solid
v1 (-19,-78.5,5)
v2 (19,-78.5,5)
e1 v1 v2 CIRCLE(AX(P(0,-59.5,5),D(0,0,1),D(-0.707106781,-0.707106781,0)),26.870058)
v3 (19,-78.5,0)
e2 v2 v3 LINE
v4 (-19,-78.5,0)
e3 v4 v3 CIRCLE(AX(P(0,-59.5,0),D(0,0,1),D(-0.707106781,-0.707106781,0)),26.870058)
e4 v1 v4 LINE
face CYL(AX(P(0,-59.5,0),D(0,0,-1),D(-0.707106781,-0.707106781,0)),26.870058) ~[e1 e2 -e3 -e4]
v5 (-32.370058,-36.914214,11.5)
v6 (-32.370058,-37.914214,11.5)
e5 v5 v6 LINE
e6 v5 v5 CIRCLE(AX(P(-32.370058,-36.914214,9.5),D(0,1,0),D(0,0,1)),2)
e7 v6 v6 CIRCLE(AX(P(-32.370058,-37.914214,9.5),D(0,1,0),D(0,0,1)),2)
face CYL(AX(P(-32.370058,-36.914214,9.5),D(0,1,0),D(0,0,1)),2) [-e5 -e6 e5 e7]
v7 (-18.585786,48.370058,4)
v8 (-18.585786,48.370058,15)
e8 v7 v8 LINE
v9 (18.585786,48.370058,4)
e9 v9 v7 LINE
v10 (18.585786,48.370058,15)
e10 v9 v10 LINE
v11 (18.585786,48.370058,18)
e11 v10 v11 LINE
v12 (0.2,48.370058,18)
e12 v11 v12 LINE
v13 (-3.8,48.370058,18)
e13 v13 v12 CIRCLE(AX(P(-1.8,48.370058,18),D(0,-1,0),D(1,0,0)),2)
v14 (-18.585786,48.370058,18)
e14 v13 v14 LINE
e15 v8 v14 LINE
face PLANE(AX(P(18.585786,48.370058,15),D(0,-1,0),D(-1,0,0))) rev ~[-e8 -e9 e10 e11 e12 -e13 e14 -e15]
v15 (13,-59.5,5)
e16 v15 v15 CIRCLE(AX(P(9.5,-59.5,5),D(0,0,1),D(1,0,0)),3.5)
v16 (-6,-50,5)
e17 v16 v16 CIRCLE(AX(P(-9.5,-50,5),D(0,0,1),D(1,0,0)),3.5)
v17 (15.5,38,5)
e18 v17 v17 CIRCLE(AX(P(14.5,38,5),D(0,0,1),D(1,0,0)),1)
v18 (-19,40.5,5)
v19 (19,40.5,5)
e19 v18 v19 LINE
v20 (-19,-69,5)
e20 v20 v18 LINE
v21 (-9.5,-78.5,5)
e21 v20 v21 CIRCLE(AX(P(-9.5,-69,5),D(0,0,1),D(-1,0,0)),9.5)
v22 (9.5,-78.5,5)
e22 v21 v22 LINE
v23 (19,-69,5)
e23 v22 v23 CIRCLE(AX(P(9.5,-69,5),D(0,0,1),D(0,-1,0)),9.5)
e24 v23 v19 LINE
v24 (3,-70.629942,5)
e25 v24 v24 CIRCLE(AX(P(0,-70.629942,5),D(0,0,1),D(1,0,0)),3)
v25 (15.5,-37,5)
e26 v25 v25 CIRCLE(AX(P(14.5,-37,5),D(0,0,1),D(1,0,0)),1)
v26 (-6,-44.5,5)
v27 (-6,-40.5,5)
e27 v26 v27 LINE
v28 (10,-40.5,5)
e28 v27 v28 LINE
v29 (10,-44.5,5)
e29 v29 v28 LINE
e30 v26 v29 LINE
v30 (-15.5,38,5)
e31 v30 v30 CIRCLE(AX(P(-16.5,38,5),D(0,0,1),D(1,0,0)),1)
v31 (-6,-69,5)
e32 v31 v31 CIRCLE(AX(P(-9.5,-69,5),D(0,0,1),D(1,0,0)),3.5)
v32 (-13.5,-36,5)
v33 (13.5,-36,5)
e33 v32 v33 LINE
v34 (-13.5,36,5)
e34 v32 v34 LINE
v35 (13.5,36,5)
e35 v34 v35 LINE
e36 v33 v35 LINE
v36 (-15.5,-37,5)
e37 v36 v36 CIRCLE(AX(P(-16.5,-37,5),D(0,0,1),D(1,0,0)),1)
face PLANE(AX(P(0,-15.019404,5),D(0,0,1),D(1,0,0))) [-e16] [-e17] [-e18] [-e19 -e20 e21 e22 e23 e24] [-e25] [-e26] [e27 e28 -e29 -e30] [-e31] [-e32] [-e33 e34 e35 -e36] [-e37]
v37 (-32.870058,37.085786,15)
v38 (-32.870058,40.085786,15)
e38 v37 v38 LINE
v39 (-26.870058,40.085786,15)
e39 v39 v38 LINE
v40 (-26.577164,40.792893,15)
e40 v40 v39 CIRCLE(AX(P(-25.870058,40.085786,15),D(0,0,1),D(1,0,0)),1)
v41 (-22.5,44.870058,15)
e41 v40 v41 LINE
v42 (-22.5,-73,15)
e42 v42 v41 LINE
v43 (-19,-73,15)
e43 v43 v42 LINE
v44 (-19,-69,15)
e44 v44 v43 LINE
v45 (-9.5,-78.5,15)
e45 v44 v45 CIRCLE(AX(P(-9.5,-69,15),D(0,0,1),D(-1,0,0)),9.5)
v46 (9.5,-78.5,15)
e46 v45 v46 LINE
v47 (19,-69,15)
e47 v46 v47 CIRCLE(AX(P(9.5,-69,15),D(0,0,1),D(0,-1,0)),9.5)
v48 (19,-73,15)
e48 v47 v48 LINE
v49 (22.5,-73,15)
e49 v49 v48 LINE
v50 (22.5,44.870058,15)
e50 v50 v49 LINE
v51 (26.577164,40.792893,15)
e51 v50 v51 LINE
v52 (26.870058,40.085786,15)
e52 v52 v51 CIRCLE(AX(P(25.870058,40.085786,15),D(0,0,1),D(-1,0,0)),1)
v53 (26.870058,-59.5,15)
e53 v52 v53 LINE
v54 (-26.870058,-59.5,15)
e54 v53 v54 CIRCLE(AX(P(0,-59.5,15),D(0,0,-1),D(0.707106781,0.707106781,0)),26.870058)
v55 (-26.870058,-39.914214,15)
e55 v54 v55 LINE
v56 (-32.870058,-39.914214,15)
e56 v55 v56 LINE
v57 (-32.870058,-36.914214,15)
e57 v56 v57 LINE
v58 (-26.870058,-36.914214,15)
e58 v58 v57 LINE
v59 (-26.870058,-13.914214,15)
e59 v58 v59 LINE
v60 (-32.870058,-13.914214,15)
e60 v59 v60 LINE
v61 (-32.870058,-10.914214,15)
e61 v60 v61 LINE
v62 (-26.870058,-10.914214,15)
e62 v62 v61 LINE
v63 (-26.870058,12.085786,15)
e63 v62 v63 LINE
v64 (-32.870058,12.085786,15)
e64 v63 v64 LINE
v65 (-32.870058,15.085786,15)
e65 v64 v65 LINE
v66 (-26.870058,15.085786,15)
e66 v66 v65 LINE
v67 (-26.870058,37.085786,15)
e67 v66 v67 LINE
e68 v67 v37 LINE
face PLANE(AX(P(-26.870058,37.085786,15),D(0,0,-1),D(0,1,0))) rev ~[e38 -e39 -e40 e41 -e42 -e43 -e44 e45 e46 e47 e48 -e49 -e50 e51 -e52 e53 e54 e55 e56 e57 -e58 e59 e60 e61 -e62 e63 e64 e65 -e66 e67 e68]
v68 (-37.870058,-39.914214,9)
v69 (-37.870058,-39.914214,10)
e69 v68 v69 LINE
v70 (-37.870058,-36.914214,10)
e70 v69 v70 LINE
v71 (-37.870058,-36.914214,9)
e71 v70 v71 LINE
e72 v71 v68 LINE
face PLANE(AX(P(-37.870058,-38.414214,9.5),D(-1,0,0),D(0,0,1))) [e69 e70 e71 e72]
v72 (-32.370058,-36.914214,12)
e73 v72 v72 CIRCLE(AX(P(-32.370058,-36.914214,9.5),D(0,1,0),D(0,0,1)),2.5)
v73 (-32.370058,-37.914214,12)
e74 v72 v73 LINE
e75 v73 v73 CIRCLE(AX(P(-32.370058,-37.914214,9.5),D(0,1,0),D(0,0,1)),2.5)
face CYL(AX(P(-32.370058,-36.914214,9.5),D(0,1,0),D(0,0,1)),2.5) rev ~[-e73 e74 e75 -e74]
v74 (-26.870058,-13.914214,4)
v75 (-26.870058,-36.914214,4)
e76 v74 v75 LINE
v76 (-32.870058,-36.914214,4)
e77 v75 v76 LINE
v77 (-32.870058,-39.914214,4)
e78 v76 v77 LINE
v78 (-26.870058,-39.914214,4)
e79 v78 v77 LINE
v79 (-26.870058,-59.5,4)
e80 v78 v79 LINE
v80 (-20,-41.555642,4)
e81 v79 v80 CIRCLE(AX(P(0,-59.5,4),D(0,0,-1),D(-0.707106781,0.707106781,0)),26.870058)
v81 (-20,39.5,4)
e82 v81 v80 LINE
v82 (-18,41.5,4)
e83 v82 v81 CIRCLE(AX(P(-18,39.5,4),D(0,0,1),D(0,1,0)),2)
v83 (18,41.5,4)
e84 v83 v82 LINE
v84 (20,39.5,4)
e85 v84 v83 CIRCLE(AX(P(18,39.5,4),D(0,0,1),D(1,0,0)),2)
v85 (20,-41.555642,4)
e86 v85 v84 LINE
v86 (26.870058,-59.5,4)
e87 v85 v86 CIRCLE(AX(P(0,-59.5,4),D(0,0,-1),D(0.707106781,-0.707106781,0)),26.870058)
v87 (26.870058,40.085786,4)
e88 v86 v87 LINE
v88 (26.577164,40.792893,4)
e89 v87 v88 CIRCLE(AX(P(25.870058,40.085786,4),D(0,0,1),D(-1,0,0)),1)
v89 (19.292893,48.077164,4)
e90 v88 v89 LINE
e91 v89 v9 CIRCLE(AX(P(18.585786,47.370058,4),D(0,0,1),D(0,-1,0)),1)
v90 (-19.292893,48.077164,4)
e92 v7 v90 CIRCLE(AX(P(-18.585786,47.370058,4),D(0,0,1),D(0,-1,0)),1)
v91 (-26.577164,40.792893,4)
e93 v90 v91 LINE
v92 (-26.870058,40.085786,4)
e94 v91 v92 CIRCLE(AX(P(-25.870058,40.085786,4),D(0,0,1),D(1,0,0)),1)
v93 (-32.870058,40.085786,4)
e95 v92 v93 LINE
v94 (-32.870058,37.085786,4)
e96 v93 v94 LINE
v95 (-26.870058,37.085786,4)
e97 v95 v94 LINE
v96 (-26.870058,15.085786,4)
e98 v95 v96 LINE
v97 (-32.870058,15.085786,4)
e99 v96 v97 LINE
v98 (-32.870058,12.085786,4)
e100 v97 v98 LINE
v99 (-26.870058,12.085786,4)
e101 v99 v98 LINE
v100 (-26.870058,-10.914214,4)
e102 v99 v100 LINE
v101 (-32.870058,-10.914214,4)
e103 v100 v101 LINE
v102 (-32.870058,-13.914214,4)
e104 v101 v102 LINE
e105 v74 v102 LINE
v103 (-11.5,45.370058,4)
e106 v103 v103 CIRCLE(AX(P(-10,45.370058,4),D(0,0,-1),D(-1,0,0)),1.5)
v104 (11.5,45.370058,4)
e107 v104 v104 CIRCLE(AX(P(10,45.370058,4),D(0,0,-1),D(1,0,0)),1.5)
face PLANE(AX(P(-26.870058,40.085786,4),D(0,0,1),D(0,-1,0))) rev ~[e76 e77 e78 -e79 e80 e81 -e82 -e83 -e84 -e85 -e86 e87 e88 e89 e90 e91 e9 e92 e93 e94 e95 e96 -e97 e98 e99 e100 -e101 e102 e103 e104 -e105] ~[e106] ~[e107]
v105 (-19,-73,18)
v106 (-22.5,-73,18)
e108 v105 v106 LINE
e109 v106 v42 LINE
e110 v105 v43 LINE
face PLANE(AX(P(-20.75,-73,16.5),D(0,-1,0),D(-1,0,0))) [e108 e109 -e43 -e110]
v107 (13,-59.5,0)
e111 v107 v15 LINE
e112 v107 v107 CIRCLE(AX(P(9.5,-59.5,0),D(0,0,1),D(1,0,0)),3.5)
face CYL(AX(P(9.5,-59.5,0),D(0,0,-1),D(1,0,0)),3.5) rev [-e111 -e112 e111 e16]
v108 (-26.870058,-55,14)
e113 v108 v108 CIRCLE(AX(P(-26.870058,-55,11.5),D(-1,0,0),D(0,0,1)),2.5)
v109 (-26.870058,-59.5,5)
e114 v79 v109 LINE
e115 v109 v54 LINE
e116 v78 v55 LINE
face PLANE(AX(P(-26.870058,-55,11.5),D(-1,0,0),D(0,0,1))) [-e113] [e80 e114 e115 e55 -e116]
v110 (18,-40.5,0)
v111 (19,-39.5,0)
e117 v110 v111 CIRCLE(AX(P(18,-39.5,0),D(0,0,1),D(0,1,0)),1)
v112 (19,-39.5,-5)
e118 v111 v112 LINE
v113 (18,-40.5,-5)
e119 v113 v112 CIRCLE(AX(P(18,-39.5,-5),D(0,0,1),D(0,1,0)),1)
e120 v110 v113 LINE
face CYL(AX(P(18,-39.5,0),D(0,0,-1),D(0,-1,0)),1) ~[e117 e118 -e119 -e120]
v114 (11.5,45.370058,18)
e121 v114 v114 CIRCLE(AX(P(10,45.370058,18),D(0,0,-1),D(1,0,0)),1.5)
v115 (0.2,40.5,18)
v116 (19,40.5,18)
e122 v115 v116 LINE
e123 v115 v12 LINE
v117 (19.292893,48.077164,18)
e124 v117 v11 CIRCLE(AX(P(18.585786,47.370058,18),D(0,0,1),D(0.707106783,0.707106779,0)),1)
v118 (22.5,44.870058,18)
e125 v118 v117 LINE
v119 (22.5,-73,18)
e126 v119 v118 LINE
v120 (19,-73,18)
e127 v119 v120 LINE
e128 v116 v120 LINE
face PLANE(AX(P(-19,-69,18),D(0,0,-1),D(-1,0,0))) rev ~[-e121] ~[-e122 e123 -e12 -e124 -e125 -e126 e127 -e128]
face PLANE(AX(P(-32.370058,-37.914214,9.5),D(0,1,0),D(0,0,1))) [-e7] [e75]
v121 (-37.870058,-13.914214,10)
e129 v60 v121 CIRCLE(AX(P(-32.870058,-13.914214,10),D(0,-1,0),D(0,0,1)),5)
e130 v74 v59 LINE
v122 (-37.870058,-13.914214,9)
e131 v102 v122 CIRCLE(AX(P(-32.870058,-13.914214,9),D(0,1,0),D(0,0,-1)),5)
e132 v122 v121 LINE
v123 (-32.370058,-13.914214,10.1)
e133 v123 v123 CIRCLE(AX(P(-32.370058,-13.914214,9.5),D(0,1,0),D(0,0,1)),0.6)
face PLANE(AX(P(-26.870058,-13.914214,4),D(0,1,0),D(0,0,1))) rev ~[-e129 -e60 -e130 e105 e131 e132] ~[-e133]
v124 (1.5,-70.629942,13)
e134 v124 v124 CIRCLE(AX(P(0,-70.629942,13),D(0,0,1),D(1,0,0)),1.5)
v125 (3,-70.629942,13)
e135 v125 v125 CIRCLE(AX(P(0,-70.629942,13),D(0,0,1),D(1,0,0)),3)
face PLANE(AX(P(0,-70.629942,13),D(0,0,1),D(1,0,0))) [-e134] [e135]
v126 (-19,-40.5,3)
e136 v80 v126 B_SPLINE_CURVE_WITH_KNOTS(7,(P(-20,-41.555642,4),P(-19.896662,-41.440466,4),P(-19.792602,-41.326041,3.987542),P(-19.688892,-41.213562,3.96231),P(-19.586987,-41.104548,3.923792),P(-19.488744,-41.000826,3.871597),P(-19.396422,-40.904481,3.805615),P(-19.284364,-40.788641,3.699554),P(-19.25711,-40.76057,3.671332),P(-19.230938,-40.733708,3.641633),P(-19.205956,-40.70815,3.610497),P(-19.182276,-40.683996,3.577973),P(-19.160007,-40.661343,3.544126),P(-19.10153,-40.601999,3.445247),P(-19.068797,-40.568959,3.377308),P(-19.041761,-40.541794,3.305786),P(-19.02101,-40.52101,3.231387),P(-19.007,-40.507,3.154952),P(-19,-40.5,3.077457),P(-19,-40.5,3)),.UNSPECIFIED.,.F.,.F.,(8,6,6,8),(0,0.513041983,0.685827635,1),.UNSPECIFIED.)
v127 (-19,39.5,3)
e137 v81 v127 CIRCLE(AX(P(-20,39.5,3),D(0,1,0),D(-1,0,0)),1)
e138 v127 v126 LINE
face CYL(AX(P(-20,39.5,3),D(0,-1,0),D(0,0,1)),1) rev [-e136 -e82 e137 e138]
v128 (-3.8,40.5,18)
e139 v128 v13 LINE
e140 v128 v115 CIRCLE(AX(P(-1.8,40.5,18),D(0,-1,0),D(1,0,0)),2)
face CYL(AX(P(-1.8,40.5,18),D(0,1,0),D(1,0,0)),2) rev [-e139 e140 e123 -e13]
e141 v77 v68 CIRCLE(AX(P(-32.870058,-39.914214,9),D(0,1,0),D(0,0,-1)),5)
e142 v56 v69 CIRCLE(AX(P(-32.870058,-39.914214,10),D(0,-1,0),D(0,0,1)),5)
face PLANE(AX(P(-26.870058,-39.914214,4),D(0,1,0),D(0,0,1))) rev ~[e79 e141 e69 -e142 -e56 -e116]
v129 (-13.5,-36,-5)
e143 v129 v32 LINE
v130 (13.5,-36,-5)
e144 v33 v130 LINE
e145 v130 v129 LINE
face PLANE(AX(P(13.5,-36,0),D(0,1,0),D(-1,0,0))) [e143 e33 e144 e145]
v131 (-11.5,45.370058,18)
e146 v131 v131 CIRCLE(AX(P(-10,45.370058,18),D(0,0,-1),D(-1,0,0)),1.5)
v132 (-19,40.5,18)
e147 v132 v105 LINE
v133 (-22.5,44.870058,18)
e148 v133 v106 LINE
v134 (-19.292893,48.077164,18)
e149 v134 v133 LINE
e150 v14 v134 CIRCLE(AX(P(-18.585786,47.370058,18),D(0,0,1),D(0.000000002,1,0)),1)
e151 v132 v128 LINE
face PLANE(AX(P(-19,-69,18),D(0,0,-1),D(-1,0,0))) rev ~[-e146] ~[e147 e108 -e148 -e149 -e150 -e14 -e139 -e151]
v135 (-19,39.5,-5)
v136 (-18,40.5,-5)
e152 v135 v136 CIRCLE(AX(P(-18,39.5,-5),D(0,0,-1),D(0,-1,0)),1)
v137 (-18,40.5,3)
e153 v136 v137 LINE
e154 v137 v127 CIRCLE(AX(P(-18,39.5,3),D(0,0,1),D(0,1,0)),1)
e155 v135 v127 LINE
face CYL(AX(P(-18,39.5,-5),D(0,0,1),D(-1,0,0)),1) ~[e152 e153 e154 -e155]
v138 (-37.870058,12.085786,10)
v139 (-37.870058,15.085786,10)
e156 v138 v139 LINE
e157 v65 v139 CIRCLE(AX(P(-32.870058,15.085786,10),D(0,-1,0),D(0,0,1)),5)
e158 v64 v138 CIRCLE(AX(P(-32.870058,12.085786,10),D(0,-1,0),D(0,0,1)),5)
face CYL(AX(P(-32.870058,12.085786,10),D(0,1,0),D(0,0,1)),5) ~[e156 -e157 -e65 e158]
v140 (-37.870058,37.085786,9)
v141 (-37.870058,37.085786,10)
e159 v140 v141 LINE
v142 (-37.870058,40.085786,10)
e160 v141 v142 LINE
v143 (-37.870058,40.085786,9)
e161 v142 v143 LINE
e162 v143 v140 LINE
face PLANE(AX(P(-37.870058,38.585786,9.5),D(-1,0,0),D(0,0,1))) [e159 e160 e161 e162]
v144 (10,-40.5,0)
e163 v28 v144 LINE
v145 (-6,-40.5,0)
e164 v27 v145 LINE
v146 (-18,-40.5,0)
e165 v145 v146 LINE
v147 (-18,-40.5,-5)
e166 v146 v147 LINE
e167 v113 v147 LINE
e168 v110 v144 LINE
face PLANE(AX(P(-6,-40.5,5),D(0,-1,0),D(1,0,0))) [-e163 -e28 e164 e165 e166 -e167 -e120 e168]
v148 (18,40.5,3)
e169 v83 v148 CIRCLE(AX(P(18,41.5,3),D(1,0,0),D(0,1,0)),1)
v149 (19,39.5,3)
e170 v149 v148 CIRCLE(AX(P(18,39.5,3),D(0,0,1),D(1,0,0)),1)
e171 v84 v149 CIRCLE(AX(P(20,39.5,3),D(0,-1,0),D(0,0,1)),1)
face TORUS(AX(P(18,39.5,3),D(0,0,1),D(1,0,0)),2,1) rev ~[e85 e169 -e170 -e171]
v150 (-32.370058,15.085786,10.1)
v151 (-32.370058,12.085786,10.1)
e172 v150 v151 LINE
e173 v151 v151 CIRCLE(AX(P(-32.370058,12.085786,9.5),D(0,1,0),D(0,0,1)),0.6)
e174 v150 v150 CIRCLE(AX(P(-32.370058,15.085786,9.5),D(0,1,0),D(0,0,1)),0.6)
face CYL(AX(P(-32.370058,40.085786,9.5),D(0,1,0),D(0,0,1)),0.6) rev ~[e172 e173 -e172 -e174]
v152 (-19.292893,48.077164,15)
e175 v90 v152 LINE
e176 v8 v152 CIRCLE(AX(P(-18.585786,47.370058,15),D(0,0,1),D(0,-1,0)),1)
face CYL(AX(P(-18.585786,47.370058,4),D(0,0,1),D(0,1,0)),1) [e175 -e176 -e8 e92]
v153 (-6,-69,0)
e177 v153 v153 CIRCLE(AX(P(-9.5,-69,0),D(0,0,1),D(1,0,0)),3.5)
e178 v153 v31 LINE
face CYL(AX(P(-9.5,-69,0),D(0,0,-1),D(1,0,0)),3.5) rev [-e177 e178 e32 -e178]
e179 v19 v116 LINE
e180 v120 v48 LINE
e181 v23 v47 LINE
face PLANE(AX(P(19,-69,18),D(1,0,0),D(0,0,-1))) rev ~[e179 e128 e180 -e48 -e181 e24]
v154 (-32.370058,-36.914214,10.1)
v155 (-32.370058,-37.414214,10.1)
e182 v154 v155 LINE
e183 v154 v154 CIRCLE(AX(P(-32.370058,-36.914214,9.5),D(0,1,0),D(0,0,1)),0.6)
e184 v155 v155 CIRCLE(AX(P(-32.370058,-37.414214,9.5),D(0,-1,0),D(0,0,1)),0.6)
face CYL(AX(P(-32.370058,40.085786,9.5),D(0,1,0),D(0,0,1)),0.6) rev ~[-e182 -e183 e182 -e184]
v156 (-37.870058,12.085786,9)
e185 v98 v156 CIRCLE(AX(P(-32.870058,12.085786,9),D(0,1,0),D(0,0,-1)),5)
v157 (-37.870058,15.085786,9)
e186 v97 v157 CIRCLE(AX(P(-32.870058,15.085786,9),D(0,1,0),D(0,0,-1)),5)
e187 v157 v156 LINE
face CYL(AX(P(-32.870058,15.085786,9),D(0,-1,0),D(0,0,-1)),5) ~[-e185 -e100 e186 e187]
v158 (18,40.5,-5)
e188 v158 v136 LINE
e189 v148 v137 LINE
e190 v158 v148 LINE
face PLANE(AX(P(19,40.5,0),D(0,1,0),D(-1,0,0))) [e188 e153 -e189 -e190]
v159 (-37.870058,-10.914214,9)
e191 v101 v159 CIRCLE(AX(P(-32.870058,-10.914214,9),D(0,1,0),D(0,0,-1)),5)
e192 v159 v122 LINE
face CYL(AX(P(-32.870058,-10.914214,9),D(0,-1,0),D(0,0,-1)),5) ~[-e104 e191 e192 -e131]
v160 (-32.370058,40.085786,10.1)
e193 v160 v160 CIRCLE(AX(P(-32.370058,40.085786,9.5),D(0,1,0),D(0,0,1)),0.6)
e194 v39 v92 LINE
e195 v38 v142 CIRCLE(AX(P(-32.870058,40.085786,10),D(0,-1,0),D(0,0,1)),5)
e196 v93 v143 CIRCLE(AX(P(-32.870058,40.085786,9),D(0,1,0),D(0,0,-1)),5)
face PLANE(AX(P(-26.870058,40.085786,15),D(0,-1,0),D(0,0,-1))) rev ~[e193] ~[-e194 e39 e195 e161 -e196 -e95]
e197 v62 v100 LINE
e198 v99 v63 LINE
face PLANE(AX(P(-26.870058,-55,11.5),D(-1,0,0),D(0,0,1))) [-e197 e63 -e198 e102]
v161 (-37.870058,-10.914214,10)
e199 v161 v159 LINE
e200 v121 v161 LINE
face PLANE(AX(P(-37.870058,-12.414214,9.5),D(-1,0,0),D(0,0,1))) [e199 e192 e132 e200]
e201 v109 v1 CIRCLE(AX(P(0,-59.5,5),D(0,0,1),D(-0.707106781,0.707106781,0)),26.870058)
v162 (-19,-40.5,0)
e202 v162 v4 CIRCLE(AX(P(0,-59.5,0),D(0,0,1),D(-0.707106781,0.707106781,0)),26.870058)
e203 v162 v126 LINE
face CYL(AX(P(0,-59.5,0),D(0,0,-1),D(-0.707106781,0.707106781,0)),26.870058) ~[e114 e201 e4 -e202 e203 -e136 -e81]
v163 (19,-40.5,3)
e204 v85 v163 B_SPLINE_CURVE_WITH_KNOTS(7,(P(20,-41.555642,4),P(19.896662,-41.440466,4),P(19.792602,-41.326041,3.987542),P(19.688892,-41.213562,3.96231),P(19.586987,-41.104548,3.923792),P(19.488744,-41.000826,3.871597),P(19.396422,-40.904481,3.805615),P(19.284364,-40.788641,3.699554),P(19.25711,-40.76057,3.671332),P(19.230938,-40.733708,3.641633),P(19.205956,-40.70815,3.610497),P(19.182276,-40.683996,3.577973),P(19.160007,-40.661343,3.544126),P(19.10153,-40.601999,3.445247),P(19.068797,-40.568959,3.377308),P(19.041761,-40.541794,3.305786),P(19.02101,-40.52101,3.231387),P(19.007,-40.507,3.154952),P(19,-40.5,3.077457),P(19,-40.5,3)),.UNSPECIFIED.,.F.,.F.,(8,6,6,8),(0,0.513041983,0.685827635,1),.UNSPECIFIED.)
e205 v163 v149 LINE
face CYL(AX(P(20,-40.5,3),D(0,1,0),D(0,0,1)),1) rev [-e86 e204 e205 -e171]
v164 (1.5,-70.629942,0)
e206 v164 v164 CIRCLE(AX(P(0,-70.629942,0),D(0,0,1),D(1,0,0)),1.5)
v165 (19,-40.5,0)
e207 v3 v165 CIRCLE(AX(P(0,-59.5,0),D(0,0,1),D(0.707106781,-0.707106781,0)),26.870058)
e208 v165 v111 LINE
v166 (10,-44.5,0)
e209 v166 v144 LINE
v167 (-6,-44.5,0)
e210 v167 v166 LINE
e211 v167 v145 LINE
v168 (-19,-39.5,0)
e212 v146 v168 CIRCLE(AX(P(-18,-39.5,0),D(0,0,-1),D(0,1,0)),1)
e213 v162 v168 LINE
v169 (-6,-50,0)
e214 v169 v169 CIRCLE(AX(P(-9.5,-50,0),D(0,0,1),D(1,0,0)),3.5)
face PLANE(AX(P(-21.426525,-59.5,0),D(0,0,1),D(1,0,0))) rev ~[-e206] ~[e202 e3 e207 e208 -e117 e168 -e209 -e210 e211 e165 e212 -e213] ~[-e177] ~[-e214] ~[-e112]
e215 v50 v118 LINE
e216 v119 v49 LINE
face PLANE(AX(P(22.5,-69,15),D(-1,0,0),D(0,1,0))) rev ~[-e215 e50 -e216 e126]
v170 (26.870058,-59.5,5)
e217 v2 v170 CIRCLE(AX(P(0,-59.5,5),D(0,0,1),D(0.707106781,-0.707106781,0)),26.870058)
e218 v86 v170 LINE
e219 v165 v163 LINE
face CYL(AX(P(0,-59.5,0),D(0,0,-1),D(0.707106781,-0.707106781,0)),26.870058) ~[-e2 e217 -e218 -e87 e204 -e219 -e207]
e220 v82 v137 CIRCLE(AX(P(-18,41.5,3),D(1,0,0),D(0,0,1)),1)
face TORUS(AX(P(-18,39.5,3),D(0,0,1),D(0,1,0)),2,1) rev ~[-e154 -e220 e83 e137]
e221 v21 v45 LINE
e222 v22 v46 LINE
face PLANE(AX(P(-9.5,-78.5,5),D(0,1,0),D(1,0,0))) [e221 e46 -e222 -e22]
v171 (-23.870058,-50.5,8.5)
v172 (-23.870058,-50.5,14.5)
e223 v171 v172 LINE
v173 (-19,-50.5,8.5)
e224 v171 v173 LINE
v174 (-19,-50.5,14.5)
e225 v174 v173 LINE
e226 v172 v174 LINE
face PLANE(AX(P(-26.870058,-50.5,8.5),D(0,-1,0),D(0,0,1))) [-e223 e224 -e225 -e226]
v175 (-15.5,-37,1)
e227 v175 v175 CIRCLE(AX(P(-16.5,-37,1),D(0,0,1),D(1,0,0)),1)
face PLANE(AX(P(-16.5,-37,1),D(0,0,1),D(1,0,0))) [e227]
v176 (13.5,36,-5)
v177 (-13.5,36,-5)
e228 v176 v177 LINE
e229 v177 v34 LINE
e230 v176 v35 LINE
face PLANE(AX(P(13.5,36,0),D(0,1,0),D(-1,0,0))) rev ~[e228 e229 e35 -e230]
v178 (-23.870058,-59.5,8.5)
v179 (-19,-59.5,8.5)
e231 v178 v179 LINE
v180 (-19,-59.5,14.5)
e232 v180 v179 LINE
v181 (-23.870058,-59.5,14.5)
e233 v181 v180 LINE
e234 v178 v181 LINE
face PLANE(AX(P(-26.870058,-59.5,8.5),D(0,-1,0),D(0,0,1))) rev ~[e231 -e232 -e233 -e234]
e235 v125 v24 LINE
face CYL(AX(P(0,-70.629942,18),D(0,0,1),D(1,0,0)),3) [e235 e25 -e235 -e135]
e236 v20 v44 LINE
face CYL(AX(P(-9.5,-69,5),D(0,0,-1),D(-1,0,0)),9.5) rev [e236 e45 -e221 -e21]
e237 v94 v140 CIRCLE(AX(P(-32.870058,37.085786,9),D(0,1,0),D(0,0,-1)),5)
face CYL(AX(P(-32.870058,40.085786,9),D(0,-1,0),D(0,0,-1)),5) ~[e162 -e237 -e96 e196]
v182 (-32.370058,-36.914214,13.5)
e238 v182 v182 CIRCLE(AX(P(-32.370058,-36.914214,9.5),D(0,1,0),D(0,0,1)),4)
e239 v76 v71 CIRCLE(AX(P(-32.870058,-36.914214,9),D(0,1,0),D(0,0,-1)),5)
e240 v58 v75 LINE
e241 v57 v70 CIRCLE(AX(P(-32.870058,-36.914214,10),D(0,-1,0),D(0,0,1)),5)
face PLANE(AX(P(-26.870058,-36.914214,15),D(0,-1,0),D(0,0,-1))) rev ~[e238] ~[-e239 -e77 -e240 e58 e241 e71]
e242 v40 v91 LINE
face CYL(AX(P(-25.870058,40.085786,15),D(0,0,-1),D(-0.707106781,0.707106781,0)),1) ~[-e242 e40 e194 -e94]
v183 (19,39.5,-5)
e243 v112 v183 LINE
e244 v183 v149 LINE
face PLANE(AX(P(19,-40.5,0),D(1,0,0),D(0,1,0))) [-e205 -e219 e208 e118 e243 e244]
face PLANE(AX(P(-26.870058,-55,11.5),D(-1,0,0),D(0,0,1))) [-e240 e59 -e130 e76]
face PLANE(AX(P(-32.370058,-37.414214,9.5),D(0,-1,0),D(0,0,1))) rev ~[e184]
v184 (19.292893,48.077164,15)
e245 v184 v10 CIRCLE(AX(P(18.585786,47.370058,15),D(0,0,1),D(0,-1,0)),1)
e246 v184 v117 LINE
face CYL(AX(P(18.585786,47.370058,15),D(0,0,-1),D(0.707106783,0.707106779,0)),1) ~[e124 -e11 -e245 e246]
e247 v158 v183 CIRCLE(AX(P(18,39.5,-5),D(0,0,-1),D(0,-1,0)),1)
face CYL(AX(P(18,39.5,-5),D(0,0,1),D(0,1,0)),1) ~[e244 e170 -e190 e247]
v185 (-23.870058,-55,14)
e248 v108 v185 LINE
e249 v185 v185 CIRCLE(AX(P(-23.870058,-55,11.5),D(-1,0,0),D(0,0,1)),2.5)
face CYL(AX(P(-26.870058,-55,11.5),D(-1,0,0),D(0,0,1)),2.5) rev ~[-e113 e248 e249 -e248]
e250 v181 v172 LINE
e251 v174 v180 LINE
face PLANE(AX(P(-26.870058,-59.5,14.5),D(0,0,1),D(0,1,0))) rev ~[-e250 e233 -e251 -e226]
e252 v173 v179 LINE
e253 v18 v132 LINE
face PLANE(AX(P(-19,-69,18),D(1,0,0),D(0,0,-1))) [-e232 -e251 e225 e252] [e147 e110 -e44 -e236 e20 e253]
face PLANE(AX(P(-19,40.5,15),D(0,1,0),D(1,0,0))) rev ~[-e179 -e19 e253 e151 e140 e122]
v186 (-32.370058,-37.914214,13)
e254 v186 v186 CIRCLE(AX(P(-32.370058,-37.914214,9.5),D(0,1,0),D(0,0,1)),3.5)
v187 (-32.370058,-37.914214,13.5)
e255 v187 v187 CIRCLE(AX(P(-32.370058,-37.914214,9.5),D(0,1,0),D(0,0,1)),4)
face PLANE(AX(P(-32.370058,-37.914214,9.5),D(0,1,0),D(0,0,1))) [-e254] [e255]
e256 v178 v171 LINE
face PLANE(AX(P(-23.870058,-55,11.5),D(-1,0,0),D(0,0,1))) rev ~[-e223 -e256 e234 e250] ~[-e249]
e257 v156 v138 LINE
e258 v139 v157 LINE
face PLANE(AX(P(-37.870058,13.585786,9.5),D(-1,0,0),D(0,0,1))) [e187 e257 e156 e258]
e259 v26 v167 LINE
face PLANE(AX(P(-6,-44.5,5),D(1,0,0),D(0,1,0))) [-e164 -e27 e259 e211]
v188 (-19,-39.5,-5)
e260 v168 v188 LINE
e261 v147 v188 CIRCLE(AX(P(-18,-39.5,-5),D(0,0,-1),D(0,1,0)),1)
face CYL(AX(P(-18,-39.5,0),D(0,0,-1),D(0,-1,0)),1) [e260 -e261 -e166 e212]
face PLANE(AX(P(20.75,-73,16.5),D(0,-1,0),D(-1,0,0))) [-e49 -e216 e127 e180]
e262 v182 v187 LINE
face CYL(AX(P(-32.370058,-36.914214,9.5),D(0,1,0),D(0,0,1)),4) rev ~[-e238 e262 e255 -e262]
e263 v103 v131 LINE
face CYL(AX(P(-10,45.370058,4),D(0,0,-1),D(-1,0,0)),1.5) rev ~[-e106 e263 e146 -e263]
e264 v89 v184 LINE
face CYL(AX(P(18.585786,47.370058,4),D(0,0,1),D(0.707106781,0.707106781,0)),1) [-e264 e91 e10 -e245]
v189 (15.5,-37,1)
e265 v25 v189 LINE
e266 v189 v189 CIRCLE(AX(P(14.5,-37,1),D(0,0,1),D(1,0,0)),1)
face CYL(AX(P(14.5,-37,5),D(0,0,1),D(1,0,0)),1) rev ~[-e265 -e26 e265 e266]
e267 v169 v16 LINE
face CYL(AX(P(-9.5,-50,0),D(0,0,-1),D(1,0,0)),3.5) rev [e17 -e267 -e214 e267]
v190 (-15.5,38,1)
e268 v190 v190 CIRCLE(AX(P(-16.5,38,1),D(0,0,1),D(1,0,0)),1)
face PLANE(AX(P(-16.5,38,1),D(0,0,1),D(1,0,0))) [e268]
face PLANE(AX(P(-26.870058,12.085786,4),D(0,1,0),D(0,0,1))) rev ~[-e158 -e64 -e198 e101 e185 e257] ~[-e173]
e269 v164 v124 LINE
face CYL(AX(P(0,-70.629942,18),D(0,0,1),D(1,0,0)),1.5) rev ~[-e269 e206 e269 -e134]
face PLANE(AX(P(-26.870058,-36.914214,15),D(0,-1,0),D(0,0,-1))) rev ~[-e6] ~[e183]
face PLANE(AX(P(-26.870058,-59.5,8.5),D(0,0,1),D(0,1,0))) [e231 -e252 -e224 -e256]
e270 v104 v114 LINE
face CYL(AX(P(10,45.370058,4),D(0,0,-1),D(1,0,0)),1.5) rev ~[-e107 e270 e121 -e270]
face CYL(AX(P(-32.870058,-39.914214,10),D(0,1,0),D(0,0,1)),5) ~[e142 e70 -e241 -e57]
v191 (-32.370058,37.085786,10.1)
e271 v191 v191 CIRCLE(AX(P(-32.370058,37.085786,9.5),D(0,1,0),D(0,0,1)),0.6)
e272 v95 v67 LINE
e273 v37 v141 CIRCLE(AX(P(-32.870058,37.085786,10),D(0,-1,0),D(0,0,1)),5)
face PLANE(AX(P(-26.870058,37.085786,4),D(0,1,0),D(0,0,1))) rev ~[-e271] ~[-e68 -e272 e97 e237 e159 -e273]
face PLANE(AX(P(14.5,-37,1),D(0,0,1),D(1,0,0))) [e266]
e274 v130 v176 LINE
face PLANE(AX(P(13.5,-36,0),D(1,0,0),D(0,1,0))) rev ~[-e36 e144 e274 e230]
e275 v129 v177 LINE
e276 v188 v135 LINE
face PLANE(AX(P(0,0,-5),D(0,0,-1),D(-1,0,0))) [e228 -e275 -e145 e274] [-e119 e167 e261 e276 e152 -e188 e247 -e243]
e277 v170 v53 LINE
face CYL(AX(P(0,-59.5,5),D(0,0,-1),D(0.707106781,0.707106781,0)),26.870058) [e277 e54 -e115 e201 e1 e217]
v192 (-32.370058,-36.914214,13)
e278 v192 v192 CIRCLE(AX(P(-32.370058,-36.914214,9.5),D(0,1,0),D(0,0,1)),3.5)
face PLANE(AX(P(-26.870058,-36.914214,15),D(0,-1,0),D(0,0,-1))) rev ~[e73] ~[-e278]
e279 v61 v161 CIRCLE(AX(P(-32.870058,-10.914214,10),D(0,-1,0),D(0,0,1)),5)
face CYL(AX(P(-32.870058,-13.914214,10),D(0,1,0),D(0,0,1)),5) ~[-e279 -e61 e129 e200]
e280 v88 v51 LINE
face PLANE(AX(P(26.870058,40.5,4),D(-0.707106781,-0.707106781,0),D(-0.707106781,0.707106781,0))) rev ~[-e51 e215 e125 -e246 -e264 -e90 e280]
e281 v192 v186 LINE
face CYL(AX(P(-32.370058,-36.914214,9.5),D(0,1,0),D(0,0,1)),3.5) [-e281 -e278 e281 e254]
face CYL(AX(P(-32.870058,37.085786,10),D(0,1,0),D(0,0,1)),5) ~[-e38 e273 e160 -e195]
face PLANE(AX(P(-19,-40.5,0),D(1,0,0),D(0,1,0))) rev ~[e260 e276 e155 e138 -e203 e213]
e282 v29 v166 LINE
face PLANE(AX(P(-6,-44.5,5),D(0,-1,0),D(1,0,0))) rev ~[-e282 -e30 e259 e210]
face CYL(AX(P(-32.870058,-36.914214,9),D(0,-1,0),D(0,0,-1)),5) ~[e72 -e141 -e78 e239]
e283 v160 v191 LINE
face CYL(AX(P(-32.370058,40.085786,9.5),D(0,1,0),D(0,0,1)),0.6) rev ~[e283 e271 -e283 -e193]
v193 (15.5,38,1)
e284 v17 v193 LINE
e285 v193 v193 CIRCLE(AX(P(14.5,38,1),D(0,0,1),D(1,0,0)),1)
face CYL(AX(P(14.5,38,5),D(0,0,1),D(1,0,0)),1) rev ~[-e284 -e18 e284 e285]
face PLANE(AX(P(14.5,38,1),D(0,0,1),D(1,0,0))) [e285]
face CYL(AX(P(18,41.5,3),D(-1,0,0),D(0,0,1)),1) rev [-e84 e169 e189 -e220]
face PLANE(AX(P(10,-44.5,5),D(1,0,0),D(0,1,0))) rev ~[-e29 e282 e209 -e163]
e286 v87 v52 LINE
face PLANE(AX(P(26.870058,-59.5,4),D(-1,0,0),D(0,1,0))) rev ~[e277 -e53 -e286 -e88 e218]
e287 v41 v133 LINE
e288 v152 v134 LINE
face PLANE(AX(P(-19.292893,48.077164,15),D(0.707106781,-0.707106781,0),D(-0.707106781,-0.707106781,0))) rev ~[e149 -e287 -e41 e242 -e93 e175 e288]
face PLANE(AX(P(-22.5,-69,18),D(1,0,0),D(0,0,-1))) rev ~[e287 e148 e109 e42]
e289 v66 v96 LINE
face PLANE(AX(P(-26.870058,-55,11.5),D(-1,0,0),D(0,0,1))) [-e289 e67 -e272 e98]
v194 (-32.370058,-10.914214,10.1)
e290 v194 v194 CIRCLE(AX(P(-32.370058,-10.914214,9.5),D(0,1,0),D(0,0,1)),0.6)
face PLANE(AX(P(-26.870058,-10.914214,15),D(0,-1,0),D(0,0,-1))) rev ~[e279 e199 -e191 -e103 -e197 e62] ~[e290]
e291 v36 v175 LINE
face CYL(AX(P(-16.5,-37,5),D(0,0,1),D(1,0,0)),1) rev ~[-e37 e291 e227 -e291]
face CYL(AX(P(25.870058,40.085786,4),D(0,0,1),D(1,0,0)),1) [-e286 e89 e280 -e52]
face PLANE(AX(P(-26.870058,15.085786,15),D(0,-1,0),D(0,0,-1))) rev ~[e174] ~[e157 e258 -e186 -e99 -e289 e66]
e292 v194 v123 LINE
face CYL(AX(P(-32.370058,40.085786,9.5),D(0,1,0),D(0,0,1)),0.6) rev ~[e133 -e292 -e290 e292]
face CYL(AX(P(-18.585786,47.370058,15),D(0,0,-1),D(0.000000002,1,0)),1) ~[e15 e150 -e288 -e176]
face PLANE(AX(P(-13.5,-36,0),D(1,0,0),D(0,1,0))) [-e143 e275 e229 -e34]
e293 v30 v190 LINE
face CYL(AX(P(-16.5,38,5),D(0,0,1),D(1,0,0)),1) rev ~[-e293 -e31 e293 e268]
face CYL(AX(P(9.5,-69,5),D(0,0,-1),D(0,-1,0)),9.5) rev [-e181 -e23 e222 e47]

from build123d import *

# Parameters (mm, degrees)
CROQUIS1_W               = 38
CROQUIS1_H               = 81
CROQUIS1_W_2             = 27
CROQUIS1_H_2             = 72
CROQUIS1_H_3             = 38
CROQUIS1_R               = 3.5
SALIENTE_EXTRUIR1_DEPTH  = 5
CROQUIS2_W               = 38
CROQUIS2_H               = 81
CROQUIS2_W_2             = 27
CROQUIS2_H_2             = 72
SALIENTE_EXTRUIR2_DEPTH  = 5
SALIENTE_EXTRUIR9_START  = -1
SALIENTE_EXTRUIR9_DEPTH  = 1
SALIENTE_EXTRUIR10_DEPTH = 11
SALIENTE_EXTRUIR11_DEPTH = 10
REDONDEO1_R              = 1
REDONDEO2_R              = 1
REDONDEO3_R              = 1
CROQUIS6_W               = 6
CROQUIS6_H               = 9
CORTAR_EXTRUIR1_DEPTH    = 8
CROQUIS7_W               = 6
CROQUIS7_H               = 9
CROQUIS7_R               = 2.5
SALIENTE_EXTRUIR12_DEPTH = 3
SALIENTE_EXTRUIR13_DEPTH = 11
REDONDEO4_R              = 5
CROQUIS9_R               = 0.6
CORTAR_EXTRUIR2_DEPTH    = 80
SALIENTE_EXTRUIR14_START = -2.5
CROQUIS10_R              = 0.6
SALIENTE_EXTRUIR14_DEPTH = 2.5
CROQUIS11_R              = 4
CROQUIS11_R_2            = 3.5
CROQUIS11_R_3            = 2.5
CROQUIS11_R_4            = 2
CORTAR_EXTRUIR3_DEPTH    = 1
SALIENTE_EXTRUIR15_DEPTH = 3
CROQUIS14_R              = 1.5
CORTAR_EXTRUIR4_DEPTH    = 14
CROQUIS16_W              = 3.5
CROQUIS16_H              = 3
SALIENTE_EXTRUIR16_DEPTH = 4
CROQUIS25_R              = 3
CROQUIS25_R_2            = 1.5
SALIENTE_EXTRUIR21_DEPTH = 18
CROQUIS26_R              = 1.5
CORTAR_EXTRUIR7_DEPTH    = 18
CROQUIS28_R              = 1
CORTAR_EXTRUIR8_DEPTH    = 4
CROQUIS29_R              = 3
CROQUIS29_R_2            = 1.5
CORTAR_EXTRUIR9_DEPTH    = 5
CROQUIS31_W              = 16
CROQUIS31_H              = 4
CORTAR_EXTRUIR10_DEPTH   = 5


with BuildPart() as part:
    # Croquis1 → Saliente-Extruir1 (new body)
    # profile 1 of 5: a face of its own
    with BuildSketch(Plane.XY):
        Rectangle(CROQUIS1_W, CROQUIS1_H)
        Rectangle(CROQUIS1_W_2, CROQUIS1_H_2, mode=Mode.SUBTRACT)
    # profile 2 of 5: a face of its own
    with BuildSketch(Plane.XY):
        with Locations((0, -59.5)):
            Rectangle(CROQUIS1_W, CROQUIS1_H_3)
        with Locations((-9.5, -69)):
            Circle(CROQUIS1_R, mode=Mode.SUBTRACT)
        with Locations((9.5, -59.5)):
            Circle(CROQUIS1_R, mode=Mode.SUBTRACT)
        with Locations((-9.5, -50)):
            Circle(CROQUIS1_R, mode=Mode.SUBTRACT)
    # profile 3 of 5: a face of its own
    with BuildSketch(Plane.XY):
        with BuildLine():
            ThreePointArc((19, -78.5), (26.870057685, -59.5), (19, -40.5))
            Line((19, -40.5), (19, -78.5))
        make_face()
    # profile 4 of 5: a face of its own
    with BuildSketch(Plane.XY):
        with BuildLine():
            Line((19, -78.5), (-19, -78.5))
            ThreePointArc((-19, -78.5), (0, -86.370057685), (19, -78.5))
        make_face()
    # profile 5 of 5: a face of its own
    with BuildSketch(Plane.XY):
        with BuildLine():
            Line((-19, -78.5), (-19, -40.5))
            ThreePointArc((-19, -40.5), (-26.870057685, -59.5), (-19, -78.5))
        make_face()
    extrude(amount=SALIENTE_EXTRUIR1_DEPTH)

    # Croquis2 → Saliente-Extruir2 (add)
    with BuildSketch(Plane(origin=(0, 0, 0), x_dir=(-1, 0, 0), z_dir=(0, 0, -1))):
        Rectangle(CROQUIS2_W, CROQUIS2_H)
        Rectangle(CROQUIS2_W_2, CROQUIS2_H_2, mode=Mode.SUBTRACT)
    extrude(amount=SALIENTE_EXTRUIR2_DEPTH)

    # Croquis3 → Saliente-Extruir9 (add)
    with BuildSketch(Plane.XY.offset(5).offset(SALIENTE_EXTRUIR9_START)):
        with BuildLine():
            Line((26.870057685, -59.5), (26.870057685, 40.5))
            Line((26.870057685, 40.5), (19, 48.370057685))
            Line((19, 48.370057685), (-19, 48.370057685))
            Line((-19, 48.370057685), (-26.870057685, 40.5))
            Line((-26.870057685, 40.5), (-26.870057685, -59.5))
            ThreePointArc((-26.870057685, -59.5), (0, -86.370057685), (26.870057685, -59.5))
        make_face()
        with BuildLine():
            Line((19, -59.5), (19, 40.5))
            Line((19, 40.5), (-19, 40.5))
            Line((-19, 40.5), (-19, -59.5))
            ThreePointArc((-19, -59.5), (0, -78.5), (19, -59.5))
        make_face(mode=Mode.SUBTRACT)
    extrude(amount=SALIENTE_EXTRUIR9_DEPTH)

    # Croquis4 → Saliente-Extruir10 (add)
    with BuildSketch(Plane(origin=(0, 0, 4), x_dir=(-1, 0, 0), z_dir=(0, 0, -1))):
        with BuildLine():
            Line((19, 40.5), (19, -40.5))
            ThreePointArc((19, -40.5), (24.824696333, -49.217274097), (26.870057685, -59.5))
            Line((26.870057685, -59.5), (26.870057685, 40.5))
            Line((26.870057685, 40.5), (19, 48.370057685))
            Line((19, 48.370057685), (-19, 48.370057685))
            Line((-19, 48.370057685), (-26.870057685, 40.5))
            Line((-26.870057685, 40.5), (-26.870057685, -59.5))
            ThreePointArc((-26.870057685, -59.5), (-24.824696333, -49.217274097), (-19, -40.5))
            Line((-19, -40.5), (-19, 40.5))
            Line((-19, 40.5), (19, 40.5))
        make_face()
    extrude(amount=-SALIENTE_EXTRUIR10_DEPTH)

    # Croquis5 → Saliente-Extruir11 (add)
    with BuildSketch(Plane.XY.offset(5)):
        with BuildLine():
            Line((-19, -59.5), (-19, -69))
            ThreePointArc((-19, -69), (-16.217514421, -75.717514421), (-9.5, -78.5))
            Line((-9.5, -78.5), (9.5, -78.5))
            ThreePointArc((9.5, -78.5), (16.217514421, -75.717514421), (19, -69))
            Line((19, -69), (19, -59.5))
            Line((19, -59.5), (19, -40.5))
            ThreePointArc((19, -40.5), (0, -86.370057685), (-19, -40.5))
            Line((-19, -40.5), (-19, -59.5))
        make_face()
    extrude(amount=SALIENTE_EXTRUIR11_DEPTH)

    # Redondeo1
    redondeo1_edges = [part.edges().sort_by_distance(p)[0] for p in [
        (19, -40.5, -2.5),
        (-19, -40.5, -2.5),
        (19, 40.5, -0.5),
        (-19, 40.5, -0.5),
    ]]
    fillet(redondeo1_edges, radius=REDONDEO1_R)

    # Redondeo2
    redondeo2_edges = [part.edges().sort_by_distance(p)[0] for p in [
        (-19, -0.5, 4),
        (0, 40.5, 4),
        (-18.707106781, 40.207106781, 4),
        (18.707106781, 40.207106781, 4),
        (19, -0.5, 4),
    ]]
    fillet(redondeo2_edges, radius=REDONDEO2_R)

    # Redondeo3
    redondeo3_edges = [part.edges().sort_by_distance(p)[0] for p in [
        (19, 48.370057685, 9.5),
        (26.870057685, 40.5, 9.5),
        (-26.870057685, 40.5, 9.5),
        (-19, 48.370057685, 9.5),
    ]]
    fillet(redondeo3_edges, radius=REDONDEO3_R)

    # Croquis6 → Cortar-Extruir1 (cut)
    with BuildSketch(Plane.ZY.offset(26.870057685)):
        with Locations((11.5, -55)):
            Rectangle(CROQUIS6_W, CROQUIS6_H)
    extrude(amount=-CORTAR_EXTRUIR1_DEPTH, mode=Mode.SUBTRACT)

    # Croquis7 → Saliente-Extruir12 (add)
    with BuildSketch(Plane.ZY.offset(26.870057685)):
        with Locations((11.5, -55)):
            Rectangle(CROQUIS7_W, CROQUIS7_H)
        with Locations((11.5, -55)):
            Circle(CROQUIS7_R, mode=Mode.SUBTRACT)
    extrude(amount=-SALIENTE_EXTRUIR12_DEPTH)

    # Croquis8 → Saliente-Extruir13 (add)
    with BuildSketch(Plane.ZY.offset(26.870057685)):
        Polygon((15, 40.085786438), (4, 40.085786438), (4, 37.085786438), (9.5, 37.085786438), (15, 37.085786438), align=None)
        Polygon((9.5, 15.085786438), (4, 15.085786438), (4, 12.085786438), (9.5, 12.085786438), (15, 12.085786438), (15, 15.085786438), align=None)
        Polygon((9.5, -10.914213562), (4, -10.914213562), (4, -13.914213562), (9.5, -13.914213562), (15, -13.914213562), (15, -10.914213562), align=None)
        Polygon((9.5, -36.914213562), (4, -36.914213562), (4, -39.914213562), (15, -39.914213562), (15, -36.914213562), align=None)
    extrude(amount=SALIENTE_EXTRUIR13_DEPTH)

    # Redondeo4
    redondeo4_edges = [part.edges().sort_by_distance(p)[0] for p in [
        (-37.870057685, 38.585786438, 4),
        (-37.870057685, 38.585786438, 15),
        (-37.870057685, 13.585786438, 4),
        (-37.870057685, 13.585786438, 15),
        (-37.870057685, -12.414213562, 4),
        (-37.870057685, -12.414213562, 15),
        (-37.870057685, -38.414213562, 4),
        (-37.870057685, -38.414213562, 15),
    ]]
    fillet(redondeo4_edges, radius=REDONDEO4_R)

    # Croquis9 → Cortar-Extruir2 (cut)
    with BuildSketch(Plane(origin=(0, 40.085786438, 0), x_dir=(1, 0, 0), z_dir=(0, 1, 0))):
        with Locations(Location((-32.370057685, -9.5, 0), (0, 0, 270))):
            Circle(CROQUIS9_R)
    extrude(amount=-CORTAR_EXTRUIR2_DEPTH, mode=Mode.SUBTRACT)

    # Croquis10 → Saliente-Extruir14 (add)
    with BuildSketch(Plane.XZ.offset(39.914213562).offset(SALIENTE_EXTRUIR14_START)):
        with Locations(Location((-32.370057685, 9.5, 0), (0, 0, 90))):
            Circle(CROQUIS10_R)
    extrude(amount=SALIENTE_EXTRUIR14_DEPTH)

    # Croquis11 → Cortar-Extruir3 (cut)
    # profile 1 of 2: a face of its own
    with BuildSketch(Plane(origin=(0, -36.914213562, 0), x_dir=(1, 0, 0), z_dir=(0, 1, 0))):
        with Locations(Location((-32.370057685, -9.5, 0), (0, 0, 270))):
            Circle(CROQUIS11_R)
        with Locations(Location((-32.370057685, -9.5, 0), (0, 0, 270))):
            Circle(CROQUIS11_R_2, mode=Mode.SUBTRACT)
    # profile 2 of 2: a face of its own
    with BuildSketch(Plane(origin=(0, -36.914213562, 0), x_dir=(1, 0, 0), z_dir=(0, 1, 0))):
        with Locations(Location((-32.370057685, -9.5, 0), (0, 0, 270))):
            Circle(CROQUIS11_R_3)
        with Locations(Location((-32.370057685, -9.5, 0), (0, 0, 270))):
            Circle(CROQUIS11_R_4, mode=Mode.SUBTRACT)
    extrude(amount=-CORTAR_EXTRUIR3_DEPTH, mode=Mode.SUBTRACT)

    # Croquis13 → Saliente-Extruir15 (add)
    with BuildSketch(Plane.XY.offset(15)):
        Polygon((-19, -65.5), (-19, 40.5), (-22.5, 40.5), (-22.5, -69), (-19, -69), align=None)
        Polygon((22.5, 40.5), (19, 40.5), (19, -65.5), (19, -69), (22.5, -69), align=None)
        with BuildLine():
            Line((-19, 40.5), (19, 40.5))
            Line((19, 40.5), (22.5, 40.5))
            Line((22.5, 40.5), (22.5, 44.870057685))
            Line((22.5, 44.870057685), (19.292893219, 48.077164466))
            ThreePointArc((19.292893219, 48.077164466), (18.96846987, 48.293937218), (18.585786438, 48.370057685))
            Line((18.585786438, 48.370057685), (-18.585786438, 48.370057685))
            ThreePointArc((-18.585786438, 48.370057685), (-18.96846987, 48.293937218), (-19.292893219, 48.077164466))
            Line((-19.292893219, 48.077164466), (-22.5, 44.870057685))
            Line((-22.5, 44.870057685), (-22.5, 40.5))
            Line((-22.5, 40.5), (-19, 40.5))
        make_face()
    extrude(amount=SALIENTE_EXTRUIR15_DEPTH)

    # Croquis14 → Cortar-Extruir4 (cut)
    with BuildSketch(Plane(origin=(0, 0, 4), x_dir=(-1, 0, 0), z_dir=(0, 0, -1))):
        with Locations((10, 45.370057685)):
            Circle(CROQUIS14_R)
        with Locations(Location((-10, 45.370057685, 0), (0, 0, 180))):
            Circle(CROQUIS14_R)
    extrude(amount=-CORTAR_EXTRUIR4_DEPTH, mode=Mode.SUBTRACT)

    # Croquis16 → Saliente-Extruir16 (add)
    with BuildSketch(Plane(origin=(0, -69, 0), x_dir=(-1, 0, 0), z_dir=(0, -1, 0))):
        with Locations((20.75, -16.5)):
            Rectangle(CROQUIS16_W, CROQUIS16_H)
        with Locations((-20.75, -16.5)):
            Rectangle(CROQUIS16_W, CROQUIS16_H)
    extrude(amount=SALIENTE_EXTRUIR16_DEPTH)

    # Croquis25 → Saliente-Extruir21 (add)
    with BuildSketch(Plane.XY.offset(18)):
        with Locations((0, -70.629942315)):
            Circle(CROQUIS25_R)
        with Locations((0, -70.629942315)):
            Circle(CROQUIS25_R_2, mode=Mode.SUBTRACT)
    extrude(amount=-SALIENTE_EXTRUIR21_DEPTH)

    # Croquis26 → Cortar-Extruir7 (cut)
    with BuildSketch(Plane.XY.offset(18)):
        with Locations((0, -70.629942315)):
            Circle(CROQUIS26_R)
    extrude(amount=-CORTAR_EXTRUIR7_DEPTH, mode=Mode.SUBTRACT)

    # Croquis28 → Cortar-Extruir8 (cut)
    with BuildSketch(Plane.XY.offset(5)):
        with Locations((-16.5, 38)):
            Circle(CROQUIS28_R)
        with Locations((14.5, 38)):
            Circle(CROQUIS28_R)
        with Locations((14.5, -37)):
            Circle(CROQUIS28_R)
        with Locations((-16.5, -37)):
            Circle(CROQUIS28_R)
    extrude(amount=-CORTAR_EXTRUIR8_DEPTH, mode=Mode.SUBTRACT)

    # Croquis29 → Cortar-Extruir9 (cut)
    with BuildSketch(Plane.XY.offset(18)):
        with Locations((0, -70.629942315)):
            Circle(CROQUIS29_R)
        with Locations((0, -70.629942315)):
            Circle(CROQUIS29_R_2, mode=Mode.SUBTRACT)
    extrude(amount=-CORTAR_EXTRUIR9_DEPTH, mode=Mode.SUBTRACT)

    # Croquis30 → Cortar-Revolución1 (revolve, cut)
    with BuildSketch(Plane.XY.offset(18)):
        Polygon((-1.8, 45.370057685), (-1.8, 40.5), (0.2, 40.5), (0.2, 48.370057685), (-1.8, 48.370057685), align=None)
    revolve(axis=Axis((-1.8, 45.370057685, 18), (0, -1, 0)), mode=Mode.SUBTRACT)

    # Croquis31 → Cortar-Extruir10 (cut)
    with BuildSketch(Plane.XY.offset(5)):
        with Locations((2, -42.5)):
            Rectangle(CROQUIS31_W, CROQUIS31_H)
    extrude(amount=-CORTAR_EXTRUIR10_DEPTH, mode=Mode.SUBTRACT)


solid = part.part
